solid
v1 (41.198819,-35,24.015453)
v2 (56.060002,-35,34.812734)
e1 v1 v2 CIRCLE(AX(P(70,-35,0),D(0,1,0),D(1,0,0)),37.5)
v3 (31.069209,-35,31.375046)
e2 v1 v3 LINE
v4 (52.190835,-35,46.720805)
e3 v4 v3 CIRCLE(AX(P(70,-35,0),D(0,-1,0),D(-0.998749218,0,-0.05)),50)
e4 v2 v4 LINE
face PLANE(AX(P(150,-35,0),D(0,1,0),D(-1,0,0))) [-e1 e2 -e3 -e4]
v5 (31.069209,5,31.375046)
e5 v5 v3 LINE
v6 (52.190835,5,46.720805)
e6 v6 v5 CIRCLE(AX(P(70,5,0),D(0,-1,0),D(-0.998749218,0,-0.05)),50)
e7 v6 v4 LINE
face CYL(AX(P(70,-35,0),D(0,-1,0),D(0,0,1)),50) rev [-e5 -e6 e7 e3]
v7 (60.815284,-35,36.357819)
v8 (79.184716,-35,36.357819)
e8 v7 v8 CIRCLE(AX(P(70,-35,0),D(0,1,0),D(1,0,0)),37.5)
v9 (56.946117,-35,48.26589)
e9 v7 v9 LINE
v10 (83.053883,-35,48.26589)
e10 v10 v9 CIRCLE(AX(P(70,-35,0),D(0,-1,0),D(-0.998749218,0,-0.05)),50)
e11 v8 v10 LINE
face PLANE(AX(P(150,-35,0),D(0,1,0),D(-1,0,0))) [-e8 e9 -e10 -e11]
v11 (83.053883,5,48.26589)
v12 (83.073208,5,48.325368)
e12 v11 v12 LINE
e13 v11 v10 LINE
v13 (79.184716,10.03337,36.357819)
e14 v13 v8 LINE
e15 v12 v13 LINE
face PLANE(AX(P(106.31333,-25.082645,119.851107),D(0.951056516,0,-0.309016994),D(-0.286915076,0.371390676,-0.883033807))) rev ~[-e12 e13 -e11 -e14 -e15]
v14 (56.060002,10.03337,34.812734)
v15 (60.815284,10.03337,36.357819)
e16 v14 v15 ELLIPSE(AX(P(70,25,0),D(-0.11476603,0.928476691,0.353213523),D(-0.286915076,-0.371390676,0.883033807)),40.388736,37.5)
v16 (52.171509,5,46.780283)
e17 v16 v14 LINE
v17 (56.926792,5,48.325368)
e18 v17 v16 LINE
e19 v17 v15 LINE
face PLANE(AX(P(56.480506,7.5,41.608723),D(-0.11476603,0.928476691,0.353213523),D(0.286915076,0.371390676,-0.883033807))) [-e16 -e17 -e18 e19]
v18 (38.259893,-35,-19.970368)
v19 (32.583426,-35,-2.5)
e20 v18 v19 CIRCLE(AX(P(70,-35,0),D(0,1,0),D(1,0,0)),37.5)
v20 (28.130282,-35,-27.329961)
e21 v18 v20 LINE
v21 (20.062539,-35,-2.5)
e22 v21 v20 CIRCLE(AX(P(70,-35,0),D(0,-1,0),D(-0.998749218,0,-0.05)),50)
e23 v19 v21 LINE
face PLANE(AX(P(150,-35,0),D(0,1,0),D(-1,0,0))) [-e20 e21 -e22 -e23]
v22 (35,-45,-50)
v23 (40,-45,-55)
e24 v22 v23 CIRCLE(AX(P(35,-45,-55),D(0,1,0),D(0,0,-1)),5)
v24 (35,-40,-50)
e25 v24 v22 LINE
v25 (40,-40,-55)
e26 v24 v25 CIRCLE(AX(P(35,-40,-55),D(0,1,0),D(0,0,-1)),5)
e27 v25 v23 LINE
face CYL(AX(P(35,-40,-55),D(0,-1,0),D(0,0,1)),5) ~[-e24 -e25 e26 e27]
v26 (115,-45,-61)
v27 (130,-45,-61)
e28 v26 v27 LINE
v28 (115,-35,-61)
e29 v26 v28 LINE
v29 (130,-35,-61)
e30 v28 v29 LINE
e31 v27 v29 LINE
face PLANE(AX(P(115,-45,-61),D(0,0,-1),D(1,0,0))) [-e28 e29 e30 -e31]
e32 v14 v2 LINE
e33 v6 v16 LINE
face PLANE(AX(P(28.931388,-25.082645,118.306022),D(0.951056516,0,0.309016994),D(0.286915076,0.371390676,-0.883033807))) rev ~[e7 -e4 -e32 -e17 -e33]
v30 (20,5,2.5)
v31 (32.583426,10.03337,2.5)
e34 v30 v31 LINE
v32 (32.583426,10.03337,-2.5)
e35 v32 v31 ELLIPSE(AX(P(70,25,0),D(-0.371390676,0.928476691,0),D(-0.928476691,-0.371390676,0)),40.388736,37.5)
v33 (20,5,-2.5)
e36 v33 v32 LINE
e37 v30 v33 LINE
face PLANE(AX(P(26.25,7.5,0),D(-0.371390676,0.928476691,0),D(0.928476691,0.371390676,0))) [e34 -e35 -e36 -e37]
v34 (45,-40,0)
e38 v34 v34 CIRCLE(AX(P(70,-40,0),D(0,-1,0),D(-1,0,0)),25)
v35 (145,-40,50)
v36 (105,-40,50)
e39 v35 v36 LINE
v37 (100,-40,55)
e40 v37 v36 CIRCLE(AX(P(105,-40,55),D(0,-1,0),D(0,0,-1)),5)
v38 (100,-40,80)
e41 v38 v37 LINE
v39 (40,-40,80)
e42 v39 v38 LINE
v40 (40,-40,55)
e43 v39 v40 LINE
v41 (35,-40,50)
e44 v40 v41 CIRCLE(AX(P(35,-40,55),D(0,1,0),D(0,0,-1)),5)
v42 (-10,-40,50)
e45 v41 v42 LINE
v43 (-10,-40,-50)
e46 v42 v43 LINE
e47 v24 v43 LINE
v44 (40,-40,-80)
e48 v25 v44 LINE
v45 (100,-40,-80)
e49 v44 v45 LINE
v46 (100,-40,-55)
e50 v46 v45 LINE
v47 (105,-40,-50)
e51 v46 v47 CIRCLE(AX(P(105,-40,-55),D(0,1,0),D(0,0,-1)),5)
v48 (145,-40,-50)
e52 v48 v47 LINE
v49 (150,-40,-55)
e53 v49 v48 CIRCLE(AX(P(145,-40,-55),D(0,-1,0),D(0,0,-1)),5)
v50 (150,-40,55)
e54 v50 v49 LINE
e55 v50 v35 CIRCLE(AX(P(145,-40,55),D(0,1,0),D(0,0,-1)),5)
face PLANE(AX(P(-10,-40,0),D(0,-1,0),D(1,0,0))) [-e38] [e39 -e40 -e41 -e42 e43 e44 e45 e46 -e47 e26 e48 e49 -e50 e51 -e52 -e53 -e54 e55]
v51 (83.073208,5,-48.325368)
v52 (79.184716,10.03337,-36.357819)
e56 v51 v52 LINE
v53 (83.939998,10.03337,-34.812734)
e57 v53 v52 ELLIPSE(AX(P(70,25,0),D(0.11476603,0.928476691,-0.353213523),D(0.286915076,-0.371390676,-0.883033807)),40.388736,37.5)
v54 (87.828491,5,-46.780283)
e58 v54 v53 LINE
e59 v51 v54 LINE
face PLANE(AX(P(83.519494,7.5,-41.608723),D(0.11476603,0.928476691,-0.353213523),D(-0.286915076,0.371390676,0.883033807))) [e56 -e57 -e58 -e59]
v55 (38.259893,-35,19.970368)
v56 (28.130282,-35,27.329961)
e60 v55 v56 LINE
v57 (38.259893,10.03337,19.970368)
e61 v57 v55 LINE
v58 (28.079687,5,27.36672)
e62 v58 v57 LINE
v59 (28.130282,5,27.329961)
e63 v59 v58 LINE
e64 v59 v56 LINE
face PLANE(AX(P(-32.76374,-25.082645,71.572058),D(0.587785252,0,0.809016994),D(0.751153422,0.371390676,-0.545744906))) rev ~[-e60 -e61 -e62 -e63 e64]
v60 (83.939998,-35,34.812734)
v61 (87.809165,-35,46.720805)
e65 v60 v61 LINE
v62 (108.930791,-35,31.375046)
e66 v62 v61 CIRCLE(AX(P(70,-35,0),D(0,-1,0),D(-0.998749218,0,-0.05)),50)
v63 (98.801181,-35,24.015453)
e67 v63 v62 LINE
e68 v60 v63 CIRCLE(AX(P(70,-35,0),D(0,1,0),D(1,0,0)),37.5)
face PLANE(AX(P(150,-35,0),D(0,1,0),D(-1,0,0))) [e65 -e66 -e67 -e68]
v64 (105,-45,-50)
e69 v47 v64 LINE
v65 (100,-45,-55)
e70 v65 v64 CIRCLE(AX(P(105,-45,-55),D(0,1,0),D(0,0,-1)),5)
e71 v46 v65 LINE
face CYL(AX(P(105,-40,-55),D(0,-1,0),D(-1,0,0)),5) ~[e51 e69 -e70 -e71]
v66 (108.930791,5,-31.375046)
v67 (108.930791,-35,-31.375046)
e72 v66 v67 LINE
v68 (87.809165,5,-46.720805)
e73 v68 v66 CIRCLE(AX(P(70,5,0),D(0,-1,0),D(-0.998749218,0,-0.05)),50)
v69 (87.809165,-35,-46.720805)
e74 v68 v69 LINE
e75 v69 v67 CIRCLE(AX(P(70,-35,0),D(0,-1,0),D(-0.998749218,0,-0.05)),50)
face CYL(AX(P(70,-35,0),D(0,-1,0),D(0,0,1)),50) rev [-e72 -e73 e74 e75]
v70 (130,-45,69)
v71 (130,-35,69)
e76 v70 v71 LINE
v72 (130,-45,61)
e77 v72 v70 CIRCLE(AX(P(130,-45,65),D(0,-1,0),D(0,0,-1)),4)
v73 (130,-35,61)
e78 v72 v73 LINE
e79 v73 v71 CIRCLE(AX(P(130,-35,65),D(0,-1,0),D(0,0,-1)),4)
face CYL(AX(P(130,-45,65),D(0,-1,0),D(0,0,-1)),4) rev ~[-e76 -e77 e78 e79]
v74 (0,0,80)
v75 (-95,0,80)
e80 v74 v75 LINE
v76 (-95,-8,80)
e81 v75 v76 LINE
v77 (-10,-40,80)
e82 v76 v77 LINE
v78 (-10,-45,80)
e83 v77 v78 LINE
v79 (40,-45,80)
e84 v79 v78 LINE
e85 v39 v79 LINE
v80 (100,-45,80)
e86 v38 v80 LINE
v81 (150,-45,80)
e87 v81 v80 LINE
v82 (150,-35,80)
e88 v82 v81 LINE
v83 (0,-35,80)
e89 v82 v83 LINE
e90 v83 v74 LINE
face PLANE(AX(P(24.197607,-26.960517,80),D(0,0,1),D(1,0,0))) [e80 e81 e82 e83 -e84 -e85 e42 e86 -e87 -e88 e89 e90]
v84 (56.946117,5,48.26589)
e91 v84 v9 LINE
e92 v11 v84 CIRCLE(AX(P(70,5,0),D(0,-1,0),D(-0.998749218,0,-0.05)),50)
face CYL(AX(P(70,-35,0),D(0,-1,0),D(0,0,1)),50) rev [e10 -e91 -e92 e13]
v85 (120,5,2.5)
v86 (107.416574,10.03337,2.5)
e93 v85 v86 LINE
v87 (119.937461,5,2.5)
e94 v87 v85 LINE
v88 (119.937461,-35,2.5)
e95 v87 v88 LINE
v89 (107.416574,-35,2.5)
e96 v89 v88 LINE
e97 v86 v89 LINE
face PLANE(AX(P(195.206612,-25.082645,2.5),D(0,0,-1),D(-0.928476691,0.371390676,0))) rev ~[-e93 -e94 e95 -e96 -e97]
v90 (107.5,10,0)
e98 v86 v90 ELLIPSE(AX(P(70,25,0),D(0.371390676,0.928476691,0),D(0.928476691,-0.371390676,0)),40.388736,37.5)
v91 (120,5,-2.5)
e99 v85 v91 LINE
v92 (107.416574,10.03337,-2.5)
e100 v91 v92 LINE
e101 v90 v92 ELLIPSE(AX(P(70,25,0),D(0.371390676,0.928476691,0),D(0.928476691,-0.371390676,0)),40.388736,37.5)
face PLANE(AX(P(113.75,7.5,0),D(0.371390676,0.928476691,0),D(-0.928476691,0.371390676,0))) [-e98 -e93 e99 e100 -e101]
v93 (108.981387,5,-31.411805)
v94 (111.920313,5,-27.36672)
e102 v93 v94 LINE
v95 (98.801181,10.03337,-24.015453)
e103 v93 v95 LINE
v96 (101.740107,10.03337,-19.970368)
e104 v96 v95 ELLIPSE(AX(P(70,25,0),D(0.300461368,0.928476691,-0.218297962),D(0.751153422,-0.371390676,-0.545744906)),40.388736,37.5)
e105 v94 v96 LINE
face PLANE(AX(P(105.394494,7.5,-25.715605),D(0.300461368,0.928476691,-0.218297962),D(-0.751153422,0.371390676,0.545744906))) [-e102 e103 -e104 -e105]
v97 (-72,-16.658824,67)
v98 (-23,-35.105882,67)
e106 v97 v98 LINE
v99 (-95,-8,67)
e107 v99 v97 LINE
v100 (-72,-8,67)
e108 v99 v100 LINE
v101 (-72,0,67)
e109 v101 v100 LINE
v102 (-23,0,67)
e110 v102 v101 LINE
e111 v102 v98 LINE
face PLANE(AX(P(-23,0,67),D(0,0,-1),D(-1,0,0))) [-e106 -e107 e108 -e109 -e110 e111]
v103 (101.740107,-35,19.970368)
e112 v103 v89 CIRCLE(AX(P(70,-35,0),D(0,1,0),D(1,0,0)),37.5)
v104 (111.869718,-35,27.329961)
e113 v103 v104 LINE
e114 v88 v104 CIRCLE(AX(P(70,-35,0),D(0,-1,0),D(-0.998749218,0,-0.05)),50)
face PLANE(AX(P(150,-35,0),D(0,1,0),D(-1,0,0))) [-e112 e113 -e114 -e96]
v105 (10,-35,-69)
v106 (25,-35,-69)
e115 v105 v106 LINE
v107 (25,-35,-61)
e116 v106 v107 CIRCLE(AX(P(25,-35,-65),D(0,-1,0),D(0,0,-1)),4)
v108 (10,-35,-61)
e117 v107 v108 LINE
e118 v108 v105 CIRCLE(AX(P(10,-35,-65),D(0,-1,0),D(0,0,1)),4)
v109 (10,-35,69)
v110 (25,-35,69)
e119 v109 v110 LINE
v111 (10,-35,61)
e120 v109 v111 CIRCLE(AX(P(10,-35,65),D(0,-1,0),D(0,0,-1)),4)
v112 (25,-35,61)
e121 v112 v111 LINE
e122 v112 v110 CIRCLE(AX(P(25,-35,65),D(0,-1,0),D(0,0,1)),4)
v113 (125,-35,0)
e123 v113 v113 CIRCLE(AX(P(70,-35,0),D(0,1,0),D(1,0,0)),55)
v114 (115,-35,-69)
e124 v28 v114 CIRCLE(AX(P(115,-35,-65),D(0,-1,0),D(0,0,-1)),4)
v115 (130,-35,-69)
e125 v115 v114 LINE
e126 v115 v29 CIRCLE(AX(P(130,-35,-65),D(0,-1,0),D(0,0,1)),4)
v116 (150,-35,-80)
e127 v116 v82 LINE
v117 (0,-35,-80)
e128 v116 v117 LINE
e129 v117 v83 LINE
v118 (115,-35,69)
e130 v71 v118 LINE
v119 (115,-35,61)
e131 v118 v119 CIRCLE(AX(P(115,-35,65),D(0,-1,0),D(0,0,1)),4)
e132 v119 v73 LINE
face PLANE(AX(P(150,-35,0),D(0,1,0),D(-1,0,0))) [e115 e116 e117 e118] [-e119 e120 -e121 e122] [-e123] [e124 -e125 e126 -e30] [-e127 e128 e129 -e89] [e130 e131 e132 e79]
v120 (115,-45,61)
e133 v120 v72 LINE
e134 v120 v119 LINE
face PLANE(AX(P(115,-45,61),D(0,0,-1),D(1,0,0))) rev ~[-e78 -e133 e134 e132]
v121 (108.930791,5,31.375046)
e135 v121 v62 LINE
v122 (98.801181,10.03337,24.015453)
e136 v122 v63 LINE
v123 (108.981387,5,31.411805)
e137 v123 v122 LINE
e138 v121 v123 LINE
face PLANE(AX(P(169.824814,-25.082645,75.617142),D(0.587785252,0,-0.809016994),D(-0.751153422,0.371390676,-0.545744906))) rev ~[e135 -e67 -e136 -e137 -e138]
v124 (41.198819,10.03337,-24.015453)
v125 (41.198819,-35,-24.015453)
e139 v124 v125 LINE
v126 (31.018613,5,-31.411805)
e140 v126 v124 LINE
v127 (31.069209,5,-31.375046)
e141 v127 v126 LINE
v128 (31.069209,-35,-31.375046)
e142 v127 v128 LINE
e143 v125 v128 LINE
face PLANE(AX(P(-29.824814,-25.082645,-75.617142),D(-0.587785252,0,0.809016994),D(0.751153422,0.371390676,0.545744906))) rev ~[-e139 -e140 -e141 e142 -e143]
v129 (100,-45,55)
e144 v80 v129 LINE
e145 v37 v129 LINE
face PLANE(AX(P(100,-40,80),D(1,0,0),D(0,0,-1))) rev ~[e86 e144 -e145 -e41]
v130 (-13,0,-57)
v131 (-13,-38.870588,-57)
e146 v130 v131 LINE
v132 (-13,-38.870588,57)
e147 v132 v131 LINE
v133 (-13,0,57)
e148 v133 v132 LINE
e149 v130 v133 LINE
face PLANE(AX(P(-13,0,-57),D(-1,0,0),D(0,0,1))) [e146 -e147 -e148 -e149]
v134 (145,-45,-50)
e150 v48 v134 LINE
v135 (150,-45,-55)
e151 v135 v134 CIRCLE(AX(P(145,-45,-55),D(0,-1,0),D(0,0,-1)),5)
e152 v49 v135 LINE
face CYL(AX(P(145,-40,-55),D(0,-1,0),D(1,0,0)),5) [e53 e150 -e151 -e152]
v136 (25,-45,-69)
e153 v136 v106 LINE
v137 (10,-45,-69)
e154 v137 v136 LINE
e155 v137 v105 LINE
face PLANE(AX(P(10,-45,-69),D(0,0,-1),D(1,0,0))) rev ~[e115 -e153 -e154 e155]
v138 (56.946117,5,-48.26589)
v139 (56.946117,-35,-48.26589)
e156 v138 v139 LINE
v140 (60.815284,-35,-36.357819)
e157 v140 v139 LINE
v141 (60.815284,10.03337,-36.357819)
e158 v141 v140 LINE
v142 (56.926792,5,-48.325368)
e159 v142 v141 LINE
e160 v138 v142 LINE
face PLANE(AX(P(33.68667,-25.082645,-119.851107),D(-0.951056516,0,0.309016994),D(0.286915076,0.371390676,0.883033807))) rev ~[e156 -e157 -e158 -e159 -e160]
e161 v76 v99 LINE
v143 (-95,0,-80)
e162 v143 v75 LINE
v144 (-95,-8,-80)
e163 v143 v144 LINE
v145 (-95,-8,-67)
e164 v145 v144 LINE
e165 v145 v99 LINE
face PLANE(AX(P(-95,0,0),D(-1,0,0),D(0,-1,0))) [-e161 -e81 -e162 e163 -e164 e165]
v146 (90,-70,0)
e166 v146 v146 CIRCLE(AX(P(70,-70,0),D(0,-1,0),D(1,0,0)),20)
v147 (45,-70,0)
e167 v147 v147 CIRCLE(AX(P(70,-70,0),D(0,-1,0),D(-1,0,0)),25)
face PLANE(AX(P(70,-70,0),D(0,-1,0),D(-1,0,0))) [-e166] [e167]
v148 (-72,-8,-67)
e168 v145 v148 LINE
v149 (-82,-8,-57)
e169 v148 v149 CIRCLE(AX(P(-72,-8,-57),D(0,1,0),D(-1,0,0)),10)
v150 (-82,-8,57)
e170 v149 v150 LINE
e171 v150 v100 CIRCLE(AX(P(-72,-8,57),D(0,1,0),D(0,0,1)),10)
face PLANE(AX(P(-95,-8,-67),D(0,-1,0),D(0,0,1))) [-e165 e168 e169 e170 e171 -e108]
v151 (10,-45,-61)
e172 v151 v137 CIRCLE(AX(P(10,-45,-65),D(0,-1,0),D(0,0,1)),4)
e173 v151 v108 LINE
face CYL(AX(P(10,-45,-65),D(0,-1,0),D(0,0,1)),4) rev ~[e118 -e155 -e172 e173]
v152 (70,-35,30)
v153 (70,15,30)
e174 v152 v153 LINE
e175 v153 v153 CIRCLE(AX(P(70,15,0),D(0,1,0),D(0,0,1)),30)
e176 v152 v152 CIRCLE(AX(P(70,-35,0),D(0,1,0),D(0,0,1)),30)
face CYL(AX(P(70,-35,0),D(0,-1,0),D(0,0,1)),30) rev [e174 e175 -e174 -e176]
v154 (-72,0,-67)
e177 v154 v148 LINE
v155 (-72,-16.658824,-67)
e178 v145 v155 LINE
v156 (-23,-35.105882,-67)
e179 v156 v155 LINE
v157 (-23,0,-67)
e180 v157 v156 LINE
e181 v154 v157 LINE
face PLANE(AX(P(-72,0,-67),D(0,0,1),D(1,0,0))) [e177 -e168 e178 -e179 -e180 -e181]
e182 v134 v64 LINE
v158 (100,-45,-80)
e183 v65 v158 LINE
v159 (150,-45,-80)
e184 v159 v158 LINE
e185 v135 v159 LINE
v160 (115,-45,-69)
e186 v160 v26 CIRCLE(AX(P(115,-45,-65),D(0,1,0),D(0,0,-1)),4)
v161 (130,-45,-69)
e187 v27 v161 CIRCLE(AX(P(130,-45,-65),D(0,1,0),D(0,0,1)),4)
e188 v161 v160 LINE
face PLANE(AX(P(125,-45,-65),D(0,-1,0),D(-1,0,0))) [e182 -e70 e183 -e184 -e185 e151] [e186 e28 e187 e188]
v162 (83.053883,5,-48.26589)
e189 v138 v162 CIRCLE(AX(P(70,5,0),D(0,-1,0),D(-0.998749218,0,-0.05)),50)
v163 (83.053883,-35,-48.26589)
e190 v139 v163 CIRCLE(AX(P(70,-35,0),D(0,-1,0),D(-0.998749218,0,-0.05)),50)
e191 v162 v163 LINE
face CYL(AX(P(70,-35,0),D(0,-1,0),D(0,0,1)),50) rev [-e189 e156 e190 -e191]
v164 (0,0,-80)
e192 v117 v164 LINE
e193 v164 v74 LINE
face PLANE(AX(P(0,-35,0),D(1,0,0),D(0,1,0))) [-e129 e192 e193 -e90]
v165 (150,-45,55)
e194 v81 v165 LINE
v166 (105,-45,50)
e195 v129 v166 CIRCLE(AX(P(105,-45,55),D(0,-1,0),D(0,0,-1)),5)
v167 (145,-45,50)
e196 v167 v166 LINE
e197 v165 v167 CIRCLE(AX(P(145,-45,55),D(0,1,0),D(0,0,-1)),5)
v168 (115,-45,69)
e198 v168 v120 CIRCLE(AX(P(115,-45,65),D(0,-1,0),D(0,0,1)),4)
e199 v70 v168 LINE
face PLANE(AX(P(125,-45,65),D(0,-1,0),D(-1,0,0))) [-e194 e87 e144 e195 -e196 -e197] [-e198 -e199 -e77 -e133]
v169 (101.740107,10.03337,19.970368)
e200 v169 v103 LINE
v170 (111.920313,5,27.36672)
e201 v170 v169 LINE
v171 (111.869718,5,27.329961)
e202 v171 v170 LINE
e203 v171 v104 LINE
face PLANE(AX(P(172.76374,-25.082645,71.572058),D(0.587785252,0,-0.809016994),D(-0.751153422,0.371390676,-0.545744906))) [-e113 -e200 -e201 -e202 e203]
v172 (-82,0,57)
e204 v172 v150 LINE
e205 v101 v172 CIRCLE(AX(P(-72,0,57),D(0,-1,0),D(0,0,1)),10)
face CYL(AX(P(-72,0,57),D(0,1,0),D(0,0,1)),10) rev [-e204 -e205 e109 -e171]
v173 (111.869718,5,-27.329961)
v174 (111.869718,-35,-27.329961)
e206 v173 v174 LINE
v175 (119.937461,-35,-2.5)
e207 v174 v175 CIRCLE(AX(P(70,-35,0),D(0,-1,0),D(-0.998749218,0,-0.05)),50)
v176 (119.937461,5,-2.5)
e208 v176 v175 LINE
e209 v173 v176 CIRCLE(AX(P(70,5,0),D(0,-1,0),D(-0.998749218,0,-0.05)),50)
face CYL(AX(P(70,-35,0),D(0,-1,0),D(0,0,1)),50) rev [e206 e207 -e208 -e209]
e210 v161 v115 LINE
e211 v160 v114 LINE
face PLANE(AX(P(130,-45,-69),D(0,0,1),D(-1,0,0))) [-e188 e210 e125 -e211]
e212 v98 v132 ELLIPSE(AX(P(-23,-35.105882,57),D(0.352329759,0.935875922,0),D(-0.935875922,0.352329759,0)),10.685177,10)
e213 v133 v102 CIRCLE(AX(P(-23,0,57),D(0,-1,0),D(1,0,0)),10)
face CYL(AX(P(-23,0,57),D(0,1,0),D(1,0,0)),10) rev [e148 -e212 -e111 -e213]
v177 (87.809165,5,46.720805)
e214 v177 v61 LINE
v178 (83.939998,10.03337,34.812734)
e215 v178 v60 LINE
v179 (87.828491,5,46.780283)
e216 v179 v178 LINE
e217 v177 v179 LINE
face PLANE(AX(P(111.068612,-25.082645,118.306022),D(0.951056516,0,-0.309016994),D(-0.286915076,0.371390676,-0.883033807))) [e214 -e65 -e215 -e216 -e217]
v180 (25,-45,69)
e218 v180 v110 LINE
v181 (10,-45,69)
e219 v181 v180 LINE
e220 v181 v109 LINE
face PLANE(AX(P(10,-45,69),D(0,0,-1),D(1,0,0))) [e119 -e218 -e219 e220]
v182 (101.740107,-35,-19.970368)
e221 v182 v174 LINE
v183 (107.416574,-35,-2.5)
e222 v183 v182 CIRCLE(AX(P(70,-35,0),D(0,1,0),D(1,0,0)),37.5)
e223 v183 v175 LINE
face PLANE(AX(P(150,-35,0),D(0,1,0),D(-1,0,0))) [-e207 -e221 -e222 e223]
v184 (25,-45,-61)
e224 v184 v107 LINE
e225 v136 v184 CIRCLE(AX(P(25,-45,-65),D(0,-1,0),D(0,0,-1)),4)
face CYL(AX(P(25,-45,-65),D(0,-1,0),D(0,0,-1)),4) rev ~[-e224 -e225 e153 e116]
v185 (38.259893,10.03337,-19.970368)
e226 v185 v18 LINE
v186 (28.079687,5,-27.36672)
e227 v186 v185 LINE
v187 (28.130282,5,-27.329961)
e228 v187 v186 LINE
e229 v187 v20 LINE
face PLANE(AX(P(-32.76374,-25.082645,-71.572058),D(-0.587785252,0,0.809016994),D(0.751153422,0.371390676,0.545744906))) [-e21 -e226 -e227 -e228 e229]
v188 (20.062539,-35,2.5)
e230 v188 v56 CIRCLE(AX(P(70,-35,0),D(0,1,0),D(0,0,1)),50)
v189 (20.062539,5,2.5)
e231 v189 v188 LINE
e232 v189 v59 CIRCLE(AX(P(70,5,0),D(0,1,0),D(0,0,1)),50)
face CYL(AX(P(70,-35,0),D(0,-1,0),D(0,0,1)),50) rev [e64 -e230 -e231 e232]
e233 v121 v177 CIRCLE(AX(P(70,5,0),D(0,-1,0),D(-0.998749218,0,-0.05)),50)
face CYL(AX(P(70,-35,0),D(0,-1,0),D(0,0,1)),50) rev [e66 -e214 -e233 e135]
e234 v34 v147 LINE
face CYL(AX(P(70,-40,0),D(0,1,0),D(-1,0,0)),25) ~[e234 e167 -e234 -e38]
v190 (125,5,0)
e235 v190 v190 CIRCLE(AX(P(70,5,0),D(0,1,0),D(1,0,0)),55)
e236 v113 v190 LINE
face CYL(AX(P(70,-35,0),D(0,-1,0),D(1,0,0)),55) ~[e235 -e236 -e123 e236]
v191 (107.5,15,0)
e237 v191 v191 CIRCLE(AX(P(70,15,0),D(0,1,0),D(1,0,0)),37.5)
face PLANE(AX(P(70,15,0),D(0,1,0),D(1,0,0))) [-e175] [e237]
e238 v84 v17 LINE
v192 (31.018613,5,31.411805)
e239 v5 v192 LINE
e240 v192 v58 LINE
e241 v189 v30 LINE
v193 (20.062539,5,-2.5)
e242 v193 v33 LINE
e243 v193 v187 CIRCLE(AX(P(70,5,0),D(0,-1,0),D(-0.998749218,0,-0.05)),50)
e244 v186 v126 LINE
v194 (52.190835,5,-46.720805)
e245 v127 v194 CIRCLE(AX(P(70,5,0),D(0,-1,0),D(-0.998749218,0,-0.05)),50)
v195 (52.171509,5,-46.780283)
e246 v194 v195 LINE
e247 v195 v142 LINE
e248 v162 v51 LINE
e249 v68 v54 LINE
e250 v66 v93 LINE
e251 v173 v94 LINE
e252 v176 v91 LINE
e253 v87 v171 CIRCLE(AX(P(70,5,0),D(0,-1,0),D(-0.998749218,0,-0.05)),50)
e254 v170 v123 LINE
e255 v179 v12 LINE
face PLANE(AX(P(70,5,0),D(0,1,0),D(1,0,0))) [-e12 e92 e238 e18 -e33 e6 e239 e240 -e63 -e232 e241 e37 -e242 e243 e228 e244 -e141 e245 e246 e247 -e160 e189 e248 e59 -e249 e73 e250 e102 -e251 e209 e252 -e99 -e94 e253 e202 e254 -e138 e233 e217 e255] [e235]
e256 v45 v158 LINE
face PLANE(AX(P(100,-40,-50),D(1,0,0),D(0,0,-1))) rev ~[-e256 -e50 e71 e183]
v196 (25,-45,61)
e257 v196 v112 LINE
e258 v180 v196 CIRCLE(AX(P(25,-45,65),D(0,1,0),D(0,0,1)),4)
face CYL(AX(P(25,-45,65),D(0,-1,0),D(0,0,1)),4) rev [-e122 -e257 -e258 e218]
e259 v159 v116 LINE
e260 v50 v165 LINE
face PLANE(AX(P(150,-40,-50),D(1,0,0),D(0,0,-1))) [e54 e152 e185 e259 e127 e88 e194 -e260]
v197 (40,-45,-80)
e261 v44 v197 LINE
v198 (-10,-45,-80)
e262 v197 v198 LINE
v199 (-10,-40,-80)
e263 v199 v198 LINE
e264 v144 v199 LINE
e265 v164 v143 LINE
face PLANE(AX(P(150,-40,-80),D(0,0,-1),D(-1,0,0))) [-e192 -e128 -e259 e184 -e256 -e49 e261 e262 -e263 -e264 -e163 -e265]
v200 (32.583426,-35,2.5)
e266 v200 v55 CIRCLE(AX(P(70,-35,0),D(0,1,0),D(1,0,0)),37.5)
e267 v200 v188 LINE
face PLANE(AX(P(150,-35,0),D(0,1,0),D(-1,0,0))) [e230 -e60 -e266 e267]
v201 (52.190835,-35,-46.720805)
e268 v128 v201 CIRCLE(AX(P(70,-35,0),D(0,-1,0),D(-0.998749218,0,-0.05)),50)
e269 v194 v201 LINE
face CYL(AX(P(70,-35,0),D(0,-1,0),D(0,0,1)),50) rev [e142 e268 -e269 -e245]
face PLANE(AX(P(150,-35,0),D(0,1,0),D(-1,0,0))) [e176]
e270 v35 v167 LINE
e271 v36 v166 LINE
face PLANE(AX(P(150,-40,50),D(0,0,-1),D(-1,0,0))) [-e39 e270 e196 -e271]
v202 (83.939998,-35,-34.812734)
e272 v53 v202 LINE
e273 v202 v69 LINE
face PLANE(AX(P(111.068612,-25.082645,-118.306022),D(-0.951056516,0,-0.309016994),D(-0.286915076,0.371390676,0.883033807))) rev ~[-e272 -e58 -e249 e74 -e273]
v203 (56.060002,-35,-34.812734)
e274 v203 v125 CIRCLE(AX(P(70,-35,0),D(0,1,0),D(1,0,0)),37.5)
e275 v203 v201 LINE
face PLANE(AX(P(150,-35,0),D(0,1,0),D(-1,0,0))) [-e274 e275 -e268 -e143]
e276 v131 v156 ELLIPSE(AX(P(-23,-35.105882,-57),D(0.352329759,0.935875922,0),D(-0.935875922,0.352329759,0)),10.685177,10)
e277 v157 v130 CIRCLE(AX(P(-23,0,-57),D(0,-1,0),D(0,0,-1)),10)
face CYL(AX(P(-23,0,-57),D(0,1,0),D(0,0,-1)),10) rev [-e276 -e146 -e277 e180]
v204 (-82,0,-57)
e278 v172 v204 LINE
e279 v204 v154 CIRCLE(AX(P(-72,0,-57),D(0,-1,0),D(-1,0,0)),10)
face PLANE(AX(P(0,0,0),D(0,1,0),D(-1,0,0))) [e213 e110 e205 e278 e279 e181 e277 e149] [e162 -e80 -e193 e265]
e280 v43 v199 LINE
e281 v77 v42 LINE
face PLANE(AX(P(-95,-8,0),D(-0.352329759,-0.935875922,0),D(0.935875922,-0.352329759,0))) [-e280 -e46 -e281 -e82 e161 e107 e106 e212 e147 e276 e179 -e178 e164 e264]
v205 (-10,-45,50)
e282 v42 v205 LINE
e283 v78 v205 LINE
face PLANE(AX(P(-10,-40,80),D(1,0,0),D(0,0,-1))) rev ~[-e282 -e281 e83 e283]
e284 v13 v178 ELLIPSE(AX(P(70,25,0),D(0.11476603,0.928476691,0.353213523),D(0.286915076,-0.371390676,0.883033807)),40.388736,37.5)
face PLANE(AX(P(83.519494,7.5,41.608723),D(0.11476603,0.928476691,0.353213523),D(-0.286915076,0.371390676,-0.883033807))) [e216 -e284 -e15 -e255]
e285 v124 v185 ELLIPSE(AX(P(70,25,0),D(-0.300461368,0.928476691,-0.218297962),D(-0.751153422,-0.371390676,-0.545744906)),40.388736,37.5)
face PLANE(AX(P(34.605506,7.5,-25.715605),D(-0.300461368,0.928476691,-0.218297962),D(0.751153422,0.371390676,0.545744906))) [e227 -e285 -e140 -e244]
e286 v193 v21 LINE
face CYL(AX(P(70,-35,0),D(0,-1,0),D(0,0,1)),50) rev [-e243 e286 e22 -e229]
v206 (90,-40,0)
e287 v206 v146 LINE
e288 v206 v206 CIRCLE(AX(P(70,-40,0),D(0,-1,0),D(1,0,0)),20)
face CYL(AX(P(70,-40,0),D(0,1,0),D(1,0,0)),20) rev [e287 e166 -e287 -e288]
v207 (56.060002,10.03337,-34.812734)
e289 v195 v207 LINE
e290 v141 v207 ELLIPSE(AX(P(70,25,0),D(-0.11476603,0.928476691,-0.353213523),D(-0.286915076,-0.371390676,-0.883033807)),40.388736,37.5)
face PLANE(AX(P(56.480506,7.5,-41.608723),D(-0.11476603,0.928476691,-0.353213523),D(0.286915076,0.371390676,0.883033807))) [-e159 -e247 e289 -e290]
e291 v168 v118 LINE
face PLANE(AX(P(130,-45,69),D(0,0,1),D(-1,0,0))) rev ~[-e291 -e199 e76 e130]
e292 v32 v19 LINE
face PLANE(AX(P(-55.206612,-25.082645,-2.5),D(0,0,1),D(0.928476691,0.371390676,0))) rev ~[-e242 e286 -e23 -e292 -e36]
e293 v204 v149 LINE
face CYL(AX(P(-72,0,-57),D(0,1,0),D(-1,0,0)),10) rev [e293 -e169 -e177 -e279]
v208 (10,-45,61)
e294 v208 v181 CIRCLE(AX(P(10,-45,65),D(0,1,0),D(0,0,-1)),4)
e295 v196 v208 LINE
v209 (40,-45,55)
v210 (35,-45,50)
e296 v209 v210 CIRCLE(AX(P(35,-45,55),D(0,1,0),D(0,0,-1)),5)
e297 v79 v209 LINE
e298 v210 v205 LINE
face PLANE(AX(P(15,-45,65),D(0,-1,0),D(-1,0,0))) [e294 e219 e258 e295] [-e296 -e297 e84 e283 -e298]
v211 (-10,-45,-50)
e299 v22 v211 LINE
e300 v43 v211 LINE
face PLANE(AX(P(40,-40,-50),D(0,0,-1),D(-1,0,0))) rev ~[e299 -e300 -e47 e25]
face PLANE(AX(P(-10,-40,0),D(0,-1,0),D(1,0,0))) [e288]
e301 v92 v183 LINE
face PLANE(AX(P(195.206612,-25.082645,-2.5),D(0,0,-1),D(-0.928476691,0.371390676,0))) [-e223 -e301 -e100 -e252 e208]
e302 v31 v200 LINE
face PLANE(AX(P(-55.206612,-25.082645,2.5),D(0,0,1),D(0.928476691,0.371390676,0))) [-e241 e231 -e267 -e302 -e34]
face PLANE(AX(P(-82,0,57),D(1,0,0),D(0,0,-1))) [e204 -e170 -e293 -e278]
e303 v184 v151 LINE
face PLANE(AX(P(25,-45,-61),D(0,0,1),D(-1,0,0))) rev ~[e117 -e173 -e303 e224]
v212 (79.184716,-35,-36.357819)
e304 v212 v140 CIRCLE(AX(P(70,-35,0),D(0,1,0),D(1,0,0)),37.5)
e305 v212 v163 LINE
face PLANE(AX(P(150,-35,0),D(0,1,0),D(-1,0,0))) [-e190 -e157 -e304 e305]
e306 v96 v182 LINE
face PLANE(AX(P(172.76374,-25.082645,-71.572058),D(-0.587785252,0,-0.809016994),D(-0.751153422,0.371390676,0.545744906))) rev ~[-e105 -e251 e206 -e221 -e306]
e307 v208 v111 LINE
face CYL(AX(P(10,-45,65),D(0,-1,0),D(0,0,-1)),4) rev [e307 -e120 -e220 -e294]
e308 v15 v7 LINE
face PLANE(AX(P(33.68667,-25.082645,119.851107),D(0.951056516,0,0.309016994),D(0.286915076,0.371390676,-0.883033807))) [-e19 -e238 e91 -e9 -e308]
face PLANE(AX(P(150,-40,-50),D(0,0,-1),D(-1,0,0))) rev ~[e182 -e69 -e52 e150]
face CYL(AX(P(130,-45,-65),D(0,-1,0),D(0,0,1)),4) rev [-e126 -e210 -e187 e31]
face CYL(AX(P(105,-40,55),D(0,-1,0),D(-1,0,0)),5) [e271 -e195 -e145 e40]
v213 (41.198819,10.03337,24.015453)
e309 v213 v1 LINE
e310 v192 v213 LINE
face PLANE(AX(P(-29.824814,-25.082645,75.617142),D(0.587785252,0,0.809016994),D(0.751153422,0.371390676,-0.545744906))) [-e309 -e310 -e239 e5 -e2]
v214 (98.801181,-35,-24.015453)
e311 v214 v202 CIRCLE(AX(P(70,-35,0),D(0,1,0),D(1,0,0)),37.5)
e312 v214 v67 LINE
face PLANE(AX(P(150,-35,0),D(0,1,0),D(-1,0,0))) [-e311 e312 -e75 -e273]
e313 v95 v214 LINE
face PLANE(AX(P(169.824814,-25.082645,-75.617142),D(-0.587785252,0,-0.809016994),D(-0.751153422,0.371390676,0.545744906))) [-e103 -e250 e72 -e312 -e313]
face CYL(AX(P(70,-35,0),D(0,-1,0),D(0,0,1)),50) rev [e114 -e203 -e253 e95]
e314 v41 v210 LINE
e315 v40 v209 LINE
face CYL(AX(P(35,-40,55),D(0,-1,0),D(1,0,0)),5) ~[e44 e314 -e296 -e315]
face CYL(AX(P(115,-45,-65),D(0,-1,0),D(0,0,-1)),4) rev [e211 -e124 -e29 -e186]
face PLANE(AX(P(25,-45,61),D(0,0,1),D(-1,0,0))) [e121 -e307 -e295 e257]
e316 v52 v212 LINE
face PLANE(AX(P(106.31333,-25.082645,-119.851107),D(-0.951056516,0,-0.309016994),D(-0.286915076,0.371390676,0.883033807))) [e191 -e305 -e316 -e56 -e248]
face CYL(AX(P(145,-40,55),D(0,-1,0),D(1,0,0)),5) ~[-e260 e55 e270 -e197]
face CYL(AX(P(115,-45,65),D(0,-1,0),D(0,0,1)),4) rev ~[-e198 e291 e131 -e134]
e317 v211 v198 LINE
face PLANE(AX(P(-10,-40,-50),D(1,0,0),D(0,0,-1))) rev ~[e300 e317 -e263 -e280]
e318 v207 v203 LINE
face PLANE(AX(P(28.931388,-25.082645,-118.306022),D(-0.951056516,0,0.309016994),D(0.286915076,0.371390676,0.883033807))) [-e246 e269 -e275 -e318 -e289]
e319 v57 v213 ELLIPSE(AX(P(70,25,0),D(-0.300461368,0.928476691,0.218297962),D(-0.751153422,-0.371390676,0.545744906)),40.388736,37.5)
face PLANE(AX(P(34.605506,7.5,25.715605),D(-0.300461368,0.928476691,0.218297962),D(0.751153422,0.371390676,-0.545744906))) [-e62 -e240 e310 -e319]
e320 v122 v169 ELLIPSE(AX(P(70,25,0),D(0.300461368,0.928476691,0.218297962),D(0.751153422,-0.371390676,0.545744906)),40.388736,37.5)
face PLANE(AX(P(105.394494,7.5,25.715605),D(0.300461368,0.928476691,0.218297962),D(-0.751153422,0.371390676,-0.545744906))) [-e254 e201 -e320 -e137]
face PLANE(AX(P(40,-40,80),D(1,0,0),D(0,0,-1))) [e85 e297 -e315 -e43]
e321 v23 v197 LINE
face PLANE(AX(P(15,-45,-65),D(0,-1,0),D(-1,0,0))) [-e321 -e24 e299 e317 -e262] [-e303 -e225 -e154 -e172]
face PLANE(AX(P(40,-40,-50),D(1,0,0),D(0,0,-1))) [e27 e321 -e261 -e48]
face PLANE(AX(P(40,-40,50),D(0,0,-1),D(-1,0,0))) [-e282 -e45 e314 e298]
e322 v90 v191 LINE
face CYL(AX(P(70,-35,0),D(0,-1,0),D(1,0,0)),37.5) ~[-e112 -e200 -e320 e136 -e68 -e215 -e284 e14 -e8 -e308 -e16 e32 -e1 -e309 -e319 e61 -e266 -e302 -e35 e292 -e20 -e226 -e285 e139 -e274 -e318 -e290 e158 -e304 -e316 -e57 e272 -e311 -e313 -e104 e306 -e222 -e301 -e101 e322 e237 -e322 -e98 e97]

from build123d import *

# Parameters (mm, degrees)
BOSS_EXTRUDE1_DEPTH = 80
CUT_EXTRUDE1_REACH  = 42
CUT_EXTRUDE2_REACH  = 247
SKETCH3_W           = 134
SKETCH3_H           = 8.658823529
SKETCH4_R           = 25
SKETCH4_R_2         = 20
BOSS_EXTRUDE2_DEPTH = 30
SKETCH5_W           = 50
SKETCH5_H           = 30
BOSS_EXTRUDE4_DEPTH = 5
FILLET1_R           = 5
CUT_EXTRUDE5_REACH  = 47
SKETCH11_R          = 37.5
SKETCH11_R_2        = 30
BOSS_EXTRUDE6_DEPTH = 50
SKETCH12_R          = 55
SKETCH12_R_2        = 50
BOSS_EXTRUDE7_DEPTH = 40
RIB1_REACH          = 82
SKETCH13_WALL_W     = 175.462912018
SKETCH13_WALL_H     = 5
CIRPATTERN1_COUNT   = 10


with BuildPart() as part:
    # Sketch1 → Boss-Extrude1 (new body, symmetric)
    with BuildSketch(Plane.XY):
        Polygon((150, -40), (150, -35), (0, -35), (0, 0), (-95, 0), (-95, -8), (-10, -40), align=None)
    extrude(amount=BOSS_EXTRUDE1_DEPTH, both=True)

    # Cut-Extrude1: up to this plane
    cut_extrude1_end = Plane(origin=(-95, -8, 80), z_dir=(0.352329759, 0.935875922, 0))
    # Sketch2 → Cut-Extrude1 (cut, up to the surface)
    with BuildSketch(Plane(origin=(0, 0, 0), x_dir=(-1, 0, 0), z_dir=(0, 1, 0)), mode=Mode.PRIVATE) as cut_extrude1_sk1:
        with BuildLine():
            Line((23, 67), (72, 67))
            ThreePointArc((72, 67), (79.071067812, 64.071067812), (82, 57))
            Line((82, 57), (82, -57))
            ThreePointArc((82, -57), (79.071067812, -64.071067812), (72, -67))
            Line((72, -67), (23, -67))
            ThreePointArc((23, -67), (15.928932188, -64.071067812), (13, -57))
            Line((13, -57), (13, 57))
            ThreePointArc((13, 57), (15.928932188, 64.071067812), (23, 67))
        make_face()
    cut_extrude1_tool1 = split(extrude(cut_extrude1_sk1.sketch, amount=-CUT_EXTRUDE1_REACH, mode=Mode.PRIVATE), bisect_by=cut_extrude1_end, keep=Keep.BOTH, mode=Mode.PRIVATE)
    add(cut_extrude1_tool1.solids().sort_by_distance((-47.5, 0, 0))[0], mode=Mode.SUBTRACT)

    # Sketch3 → Cut-Extrude2 (cut, up to next)
    with BuildSketch(Plane.ZY.offset(95), mode=Mode.PRIVATE) as cut_extrude2_sk1:
        with Locations((0, -12.329411764)):
            Rectangle(SKETCH3_W, SKETCH3_H)
    cut_extrude2_tool1 = extrude(cut_extrude2_sk1.sketch, amount=-CUT_EXTRUDE2_REACH, mode=Mode.PRIVATE) & part.part
    add(cut_extrude2_tool1.solids().sort_by_distance((-95, -12.329412, 0))[0], mode=Mode.SUBTRACT)

    # Sketch4 → Boss-Extrude2 (add)
    with BuildSketch(Plane(origin=(0, -40, 0), x_dir=(-1, 0, 0), z_dir=(0, -1, 0))):
        with Locations((-70, 0)):
            Circle(SKETCH4_R)
        with Locations(Location((-70, 0, 0), (0, 0, 180))):  # turned: the seam where the file's is
            Circle(SKETCH4_R_2, mode=Mode.SUBTRACT)
    extrude(amount=BOSS_EXTRUDE2_DEPTH)

    # Sketch5 → Boss-Extrude4 (add)
    with BuildSketch(Plane(origin=(0, -40, 0), x_dir=(-1, 0, 0), z_dir=(0, -1, 0))):
        with Locations((-125, 65)):
            Rectangle(SKETCH5_W, SKETCH5_H)
        with Locations((-15, 65)):
            Rectangle(SKETCH5_W, SKETCH5_H)
        with Locations((-15, -65)):
            Rectangle(SKETCH5_W, SKETCH5_H)
        with Locations((-125, -65)):
            Rectangle(SKETCH5_W, SKETCH5_H)
    extrude(amount=BOSS_EXTRUDE4_DEPTH)

    # Fillet1
    fillet1_edges = [part.edges().sort_by_distance(p)[0] for p in [
        (150, -42.5, 50),
        (100, -42.5, 50),
        (150, -42.5, -50),
        (100, -42.5, -50),
        (40, -42.5, -50),
        (40, -42.5, 50),
    ]]
    fillet(fillet1_edges, radius=FILLET1_R)

    # Sketch10 → Cut-Extrude5 (cut, up to next)
    with BuildSketch(Plane(origin=(0, -45, 0), x_dir=(-1, 0, 0), z_dir=(0, -1, 0)), mode=Mode.PRIVATE) as cut_extrude5_sk1:
        with BuildLine():
            Line((-130, 69), (-115, 69))
            ThreePointArc((-115, 69), (-111, 65), (-115, 61))
            Line((-115, 61), (-130, 61))
            ThreePointArc((-130, 61), (-134, 65), (-130, 69))
        make_face()
    cut_extrude5_tool1 = extrude(cut_extrude5_sk1.sketch, amount=-CUT_EXTRUDE5_REACH, mode=Mode.PRIVATE) & part.part
    add(cut_extrude5_tool1.solids().sort_by_distance((122.5, -45, -65))[0], mode=Mode.SUBTRACT)
    # Sketch10 → Cut-Extrude5 (cut, up to next)
    with BuildSketch(Plane(origin=(0, -45, 0), x_dir=(-1, 0, 0), z_dir=(0, -1, 0)), mode=Mode.PRIVATE) as cut_extrude5_sk2:
        with BuildLine():
            Line((-10, 69), (-25, 69))
            ThreePointArc((-25, 69), (-29, 65), (-25, 61))
            Line((-25, 61), (-10, 61))
            ThreePointArc((-10, 61), (-6, 65), (-10, 69))
        make_face()
    cut_extrude5_tool2 = extrude(cut_extrude5_sk2.sketch, amount=-CUT_EXTRUDE5_REACH, mode=Mode.PRIVATE) & part.part
    add(cut_extrude5_tool2.solids().sort_by_distance((17.5, -45, -65))[0], mode=Mode.SUBTRACT)
    # Sketch10 → Cut-Extrude5 (cut, up to next)
    with BuildSketch(Plane(origin=(0, -45, 0), x_dir=(-1, 0, 0), z_dir=(0, -1, 0)), mode=Mode.PRIVATE) as cut_extrude5_sk3:
        with BuildLine():
            Line((-130, -69), (-115, -69))
            ThreePointArc((-115, -69), (-111, -65), (-115, -61))
            Line((-115, -61), (-130, -61))
            ThreePointArc((-130, -61), (-134, -65), (-130, -69))
        make_face()
    cut_extrude5_tool3 = extrude(cut_extrude5_sk3.sketch, amount=-CUT_EXTRUDE5_REACH, mode=Mode.PRIVATE) & part.part
    add(cut_extrude5_tool3.solids().sort_by_distance((122.5, -45, 65))[0], mode=Mode.SUBTRACT)
    # Sketch10 → Cut-Extrude5 (cut, up to next)
    with BuildSketch(Plane(origin=(0, -45, 0), x_dir=(-1, 0, 0), z_dir=(0, -1, 0)), mode=Mode.PRIVATE) as cut_extrude5_sk4:
        with BuildLine():
            Line((-10, -69), (-25, -69))
            ThreePointArc((-25, -69), (-29, -65), (-25, -61))
            Line((-25, -61), (-10, -61))
            ThreePointArc((-10, -61), (-6, -65), (-10, -69))
        make_face()
    cut_extrude5_tool4 = extrude(cut_extrude5_sk4.sketch, amount=-CUT_EXTRUDE5_REACH, mode=Mode.PRIVATE) & part.part
    add(cut_extrude5_tool4.solids().sort_by_distance((17.5, -45, 65))[0], mode=Mode.SUBTRACT)

    # Sketch11 → Boss-Extrude6 (add)
    with BuildSketch(Plane(origin=(0, -35, 0), x_dir=(-1, 0, 0), z_dir=(0, 1, 0))):
        with Locations(Location((-70, 0, 0), (0, 0, 180))):  # turned: the seam where the file's is
            Circle(SKETCH11_R)
        with Locations(Location((-70, 0, 0), (0, 0, 90))):  # turned: the seam where the file's is
            Circle(SKETCH11_R_2, mode=Mode.SUBTRACT)
    extrude(amount=BOSS_EXTRUDE6_DEPTH)

    # Sketch12 → Boss-Extrude7 (add)
    with BuildSketch(Plane(origin=(0, -35, 0), x_dir=(-1, 0, 0), z_dir=(0, 1, 0))):
        with Locations(Location((-70, 0, 0), (0, 0, 180))):  # turned: the seam where the file's is
            Circle(SKETCH12_R)
        with Locations(Location((-70, 0, 0), (0, 0, 90))):  # turned: the seam where the file's is
            Circle(SKETCH12_R_2, mode=Mode.SUBTRACT)
    extrude(amount=BOSS_EXTRUDE7_DEPTH)

    # Sketch13 wall → Rib1 (add, up to next)
    with BuildSketch(Plane(origin=(26.25, 7.5, 0), x_dir=(0.928476691, 0.371390676, 0), z_dir=(-0.371390676, 0.928476691, 0)), mode=Mode.PRIVATE) as rib1_sk1:
        Rectangle(SKETCH13_WALL_W, SKETCH13_WALL_H)
    rib1_tool1 = extrude(rib1_sk1.sketch, amount=-RIB1_REACH, mode=Mode.PRIVATE) - part.part
    rib1 = rib1_tool1.solids().sort_by_distance((26.25, 7.5, 0))[0]
    add(rib1)

    # CirPattern1: Rib1 ×10 about axis
    cirpattern1_axis = Axis((70, 0, 0), (0, 1, 0))
    for i in range(1, CIRPATTERN1_COUNT):
        add(rib1.rotate(cirpattern1_axis, i * 360 / CIRPATTERN1_COUNT))


solid = part.part
